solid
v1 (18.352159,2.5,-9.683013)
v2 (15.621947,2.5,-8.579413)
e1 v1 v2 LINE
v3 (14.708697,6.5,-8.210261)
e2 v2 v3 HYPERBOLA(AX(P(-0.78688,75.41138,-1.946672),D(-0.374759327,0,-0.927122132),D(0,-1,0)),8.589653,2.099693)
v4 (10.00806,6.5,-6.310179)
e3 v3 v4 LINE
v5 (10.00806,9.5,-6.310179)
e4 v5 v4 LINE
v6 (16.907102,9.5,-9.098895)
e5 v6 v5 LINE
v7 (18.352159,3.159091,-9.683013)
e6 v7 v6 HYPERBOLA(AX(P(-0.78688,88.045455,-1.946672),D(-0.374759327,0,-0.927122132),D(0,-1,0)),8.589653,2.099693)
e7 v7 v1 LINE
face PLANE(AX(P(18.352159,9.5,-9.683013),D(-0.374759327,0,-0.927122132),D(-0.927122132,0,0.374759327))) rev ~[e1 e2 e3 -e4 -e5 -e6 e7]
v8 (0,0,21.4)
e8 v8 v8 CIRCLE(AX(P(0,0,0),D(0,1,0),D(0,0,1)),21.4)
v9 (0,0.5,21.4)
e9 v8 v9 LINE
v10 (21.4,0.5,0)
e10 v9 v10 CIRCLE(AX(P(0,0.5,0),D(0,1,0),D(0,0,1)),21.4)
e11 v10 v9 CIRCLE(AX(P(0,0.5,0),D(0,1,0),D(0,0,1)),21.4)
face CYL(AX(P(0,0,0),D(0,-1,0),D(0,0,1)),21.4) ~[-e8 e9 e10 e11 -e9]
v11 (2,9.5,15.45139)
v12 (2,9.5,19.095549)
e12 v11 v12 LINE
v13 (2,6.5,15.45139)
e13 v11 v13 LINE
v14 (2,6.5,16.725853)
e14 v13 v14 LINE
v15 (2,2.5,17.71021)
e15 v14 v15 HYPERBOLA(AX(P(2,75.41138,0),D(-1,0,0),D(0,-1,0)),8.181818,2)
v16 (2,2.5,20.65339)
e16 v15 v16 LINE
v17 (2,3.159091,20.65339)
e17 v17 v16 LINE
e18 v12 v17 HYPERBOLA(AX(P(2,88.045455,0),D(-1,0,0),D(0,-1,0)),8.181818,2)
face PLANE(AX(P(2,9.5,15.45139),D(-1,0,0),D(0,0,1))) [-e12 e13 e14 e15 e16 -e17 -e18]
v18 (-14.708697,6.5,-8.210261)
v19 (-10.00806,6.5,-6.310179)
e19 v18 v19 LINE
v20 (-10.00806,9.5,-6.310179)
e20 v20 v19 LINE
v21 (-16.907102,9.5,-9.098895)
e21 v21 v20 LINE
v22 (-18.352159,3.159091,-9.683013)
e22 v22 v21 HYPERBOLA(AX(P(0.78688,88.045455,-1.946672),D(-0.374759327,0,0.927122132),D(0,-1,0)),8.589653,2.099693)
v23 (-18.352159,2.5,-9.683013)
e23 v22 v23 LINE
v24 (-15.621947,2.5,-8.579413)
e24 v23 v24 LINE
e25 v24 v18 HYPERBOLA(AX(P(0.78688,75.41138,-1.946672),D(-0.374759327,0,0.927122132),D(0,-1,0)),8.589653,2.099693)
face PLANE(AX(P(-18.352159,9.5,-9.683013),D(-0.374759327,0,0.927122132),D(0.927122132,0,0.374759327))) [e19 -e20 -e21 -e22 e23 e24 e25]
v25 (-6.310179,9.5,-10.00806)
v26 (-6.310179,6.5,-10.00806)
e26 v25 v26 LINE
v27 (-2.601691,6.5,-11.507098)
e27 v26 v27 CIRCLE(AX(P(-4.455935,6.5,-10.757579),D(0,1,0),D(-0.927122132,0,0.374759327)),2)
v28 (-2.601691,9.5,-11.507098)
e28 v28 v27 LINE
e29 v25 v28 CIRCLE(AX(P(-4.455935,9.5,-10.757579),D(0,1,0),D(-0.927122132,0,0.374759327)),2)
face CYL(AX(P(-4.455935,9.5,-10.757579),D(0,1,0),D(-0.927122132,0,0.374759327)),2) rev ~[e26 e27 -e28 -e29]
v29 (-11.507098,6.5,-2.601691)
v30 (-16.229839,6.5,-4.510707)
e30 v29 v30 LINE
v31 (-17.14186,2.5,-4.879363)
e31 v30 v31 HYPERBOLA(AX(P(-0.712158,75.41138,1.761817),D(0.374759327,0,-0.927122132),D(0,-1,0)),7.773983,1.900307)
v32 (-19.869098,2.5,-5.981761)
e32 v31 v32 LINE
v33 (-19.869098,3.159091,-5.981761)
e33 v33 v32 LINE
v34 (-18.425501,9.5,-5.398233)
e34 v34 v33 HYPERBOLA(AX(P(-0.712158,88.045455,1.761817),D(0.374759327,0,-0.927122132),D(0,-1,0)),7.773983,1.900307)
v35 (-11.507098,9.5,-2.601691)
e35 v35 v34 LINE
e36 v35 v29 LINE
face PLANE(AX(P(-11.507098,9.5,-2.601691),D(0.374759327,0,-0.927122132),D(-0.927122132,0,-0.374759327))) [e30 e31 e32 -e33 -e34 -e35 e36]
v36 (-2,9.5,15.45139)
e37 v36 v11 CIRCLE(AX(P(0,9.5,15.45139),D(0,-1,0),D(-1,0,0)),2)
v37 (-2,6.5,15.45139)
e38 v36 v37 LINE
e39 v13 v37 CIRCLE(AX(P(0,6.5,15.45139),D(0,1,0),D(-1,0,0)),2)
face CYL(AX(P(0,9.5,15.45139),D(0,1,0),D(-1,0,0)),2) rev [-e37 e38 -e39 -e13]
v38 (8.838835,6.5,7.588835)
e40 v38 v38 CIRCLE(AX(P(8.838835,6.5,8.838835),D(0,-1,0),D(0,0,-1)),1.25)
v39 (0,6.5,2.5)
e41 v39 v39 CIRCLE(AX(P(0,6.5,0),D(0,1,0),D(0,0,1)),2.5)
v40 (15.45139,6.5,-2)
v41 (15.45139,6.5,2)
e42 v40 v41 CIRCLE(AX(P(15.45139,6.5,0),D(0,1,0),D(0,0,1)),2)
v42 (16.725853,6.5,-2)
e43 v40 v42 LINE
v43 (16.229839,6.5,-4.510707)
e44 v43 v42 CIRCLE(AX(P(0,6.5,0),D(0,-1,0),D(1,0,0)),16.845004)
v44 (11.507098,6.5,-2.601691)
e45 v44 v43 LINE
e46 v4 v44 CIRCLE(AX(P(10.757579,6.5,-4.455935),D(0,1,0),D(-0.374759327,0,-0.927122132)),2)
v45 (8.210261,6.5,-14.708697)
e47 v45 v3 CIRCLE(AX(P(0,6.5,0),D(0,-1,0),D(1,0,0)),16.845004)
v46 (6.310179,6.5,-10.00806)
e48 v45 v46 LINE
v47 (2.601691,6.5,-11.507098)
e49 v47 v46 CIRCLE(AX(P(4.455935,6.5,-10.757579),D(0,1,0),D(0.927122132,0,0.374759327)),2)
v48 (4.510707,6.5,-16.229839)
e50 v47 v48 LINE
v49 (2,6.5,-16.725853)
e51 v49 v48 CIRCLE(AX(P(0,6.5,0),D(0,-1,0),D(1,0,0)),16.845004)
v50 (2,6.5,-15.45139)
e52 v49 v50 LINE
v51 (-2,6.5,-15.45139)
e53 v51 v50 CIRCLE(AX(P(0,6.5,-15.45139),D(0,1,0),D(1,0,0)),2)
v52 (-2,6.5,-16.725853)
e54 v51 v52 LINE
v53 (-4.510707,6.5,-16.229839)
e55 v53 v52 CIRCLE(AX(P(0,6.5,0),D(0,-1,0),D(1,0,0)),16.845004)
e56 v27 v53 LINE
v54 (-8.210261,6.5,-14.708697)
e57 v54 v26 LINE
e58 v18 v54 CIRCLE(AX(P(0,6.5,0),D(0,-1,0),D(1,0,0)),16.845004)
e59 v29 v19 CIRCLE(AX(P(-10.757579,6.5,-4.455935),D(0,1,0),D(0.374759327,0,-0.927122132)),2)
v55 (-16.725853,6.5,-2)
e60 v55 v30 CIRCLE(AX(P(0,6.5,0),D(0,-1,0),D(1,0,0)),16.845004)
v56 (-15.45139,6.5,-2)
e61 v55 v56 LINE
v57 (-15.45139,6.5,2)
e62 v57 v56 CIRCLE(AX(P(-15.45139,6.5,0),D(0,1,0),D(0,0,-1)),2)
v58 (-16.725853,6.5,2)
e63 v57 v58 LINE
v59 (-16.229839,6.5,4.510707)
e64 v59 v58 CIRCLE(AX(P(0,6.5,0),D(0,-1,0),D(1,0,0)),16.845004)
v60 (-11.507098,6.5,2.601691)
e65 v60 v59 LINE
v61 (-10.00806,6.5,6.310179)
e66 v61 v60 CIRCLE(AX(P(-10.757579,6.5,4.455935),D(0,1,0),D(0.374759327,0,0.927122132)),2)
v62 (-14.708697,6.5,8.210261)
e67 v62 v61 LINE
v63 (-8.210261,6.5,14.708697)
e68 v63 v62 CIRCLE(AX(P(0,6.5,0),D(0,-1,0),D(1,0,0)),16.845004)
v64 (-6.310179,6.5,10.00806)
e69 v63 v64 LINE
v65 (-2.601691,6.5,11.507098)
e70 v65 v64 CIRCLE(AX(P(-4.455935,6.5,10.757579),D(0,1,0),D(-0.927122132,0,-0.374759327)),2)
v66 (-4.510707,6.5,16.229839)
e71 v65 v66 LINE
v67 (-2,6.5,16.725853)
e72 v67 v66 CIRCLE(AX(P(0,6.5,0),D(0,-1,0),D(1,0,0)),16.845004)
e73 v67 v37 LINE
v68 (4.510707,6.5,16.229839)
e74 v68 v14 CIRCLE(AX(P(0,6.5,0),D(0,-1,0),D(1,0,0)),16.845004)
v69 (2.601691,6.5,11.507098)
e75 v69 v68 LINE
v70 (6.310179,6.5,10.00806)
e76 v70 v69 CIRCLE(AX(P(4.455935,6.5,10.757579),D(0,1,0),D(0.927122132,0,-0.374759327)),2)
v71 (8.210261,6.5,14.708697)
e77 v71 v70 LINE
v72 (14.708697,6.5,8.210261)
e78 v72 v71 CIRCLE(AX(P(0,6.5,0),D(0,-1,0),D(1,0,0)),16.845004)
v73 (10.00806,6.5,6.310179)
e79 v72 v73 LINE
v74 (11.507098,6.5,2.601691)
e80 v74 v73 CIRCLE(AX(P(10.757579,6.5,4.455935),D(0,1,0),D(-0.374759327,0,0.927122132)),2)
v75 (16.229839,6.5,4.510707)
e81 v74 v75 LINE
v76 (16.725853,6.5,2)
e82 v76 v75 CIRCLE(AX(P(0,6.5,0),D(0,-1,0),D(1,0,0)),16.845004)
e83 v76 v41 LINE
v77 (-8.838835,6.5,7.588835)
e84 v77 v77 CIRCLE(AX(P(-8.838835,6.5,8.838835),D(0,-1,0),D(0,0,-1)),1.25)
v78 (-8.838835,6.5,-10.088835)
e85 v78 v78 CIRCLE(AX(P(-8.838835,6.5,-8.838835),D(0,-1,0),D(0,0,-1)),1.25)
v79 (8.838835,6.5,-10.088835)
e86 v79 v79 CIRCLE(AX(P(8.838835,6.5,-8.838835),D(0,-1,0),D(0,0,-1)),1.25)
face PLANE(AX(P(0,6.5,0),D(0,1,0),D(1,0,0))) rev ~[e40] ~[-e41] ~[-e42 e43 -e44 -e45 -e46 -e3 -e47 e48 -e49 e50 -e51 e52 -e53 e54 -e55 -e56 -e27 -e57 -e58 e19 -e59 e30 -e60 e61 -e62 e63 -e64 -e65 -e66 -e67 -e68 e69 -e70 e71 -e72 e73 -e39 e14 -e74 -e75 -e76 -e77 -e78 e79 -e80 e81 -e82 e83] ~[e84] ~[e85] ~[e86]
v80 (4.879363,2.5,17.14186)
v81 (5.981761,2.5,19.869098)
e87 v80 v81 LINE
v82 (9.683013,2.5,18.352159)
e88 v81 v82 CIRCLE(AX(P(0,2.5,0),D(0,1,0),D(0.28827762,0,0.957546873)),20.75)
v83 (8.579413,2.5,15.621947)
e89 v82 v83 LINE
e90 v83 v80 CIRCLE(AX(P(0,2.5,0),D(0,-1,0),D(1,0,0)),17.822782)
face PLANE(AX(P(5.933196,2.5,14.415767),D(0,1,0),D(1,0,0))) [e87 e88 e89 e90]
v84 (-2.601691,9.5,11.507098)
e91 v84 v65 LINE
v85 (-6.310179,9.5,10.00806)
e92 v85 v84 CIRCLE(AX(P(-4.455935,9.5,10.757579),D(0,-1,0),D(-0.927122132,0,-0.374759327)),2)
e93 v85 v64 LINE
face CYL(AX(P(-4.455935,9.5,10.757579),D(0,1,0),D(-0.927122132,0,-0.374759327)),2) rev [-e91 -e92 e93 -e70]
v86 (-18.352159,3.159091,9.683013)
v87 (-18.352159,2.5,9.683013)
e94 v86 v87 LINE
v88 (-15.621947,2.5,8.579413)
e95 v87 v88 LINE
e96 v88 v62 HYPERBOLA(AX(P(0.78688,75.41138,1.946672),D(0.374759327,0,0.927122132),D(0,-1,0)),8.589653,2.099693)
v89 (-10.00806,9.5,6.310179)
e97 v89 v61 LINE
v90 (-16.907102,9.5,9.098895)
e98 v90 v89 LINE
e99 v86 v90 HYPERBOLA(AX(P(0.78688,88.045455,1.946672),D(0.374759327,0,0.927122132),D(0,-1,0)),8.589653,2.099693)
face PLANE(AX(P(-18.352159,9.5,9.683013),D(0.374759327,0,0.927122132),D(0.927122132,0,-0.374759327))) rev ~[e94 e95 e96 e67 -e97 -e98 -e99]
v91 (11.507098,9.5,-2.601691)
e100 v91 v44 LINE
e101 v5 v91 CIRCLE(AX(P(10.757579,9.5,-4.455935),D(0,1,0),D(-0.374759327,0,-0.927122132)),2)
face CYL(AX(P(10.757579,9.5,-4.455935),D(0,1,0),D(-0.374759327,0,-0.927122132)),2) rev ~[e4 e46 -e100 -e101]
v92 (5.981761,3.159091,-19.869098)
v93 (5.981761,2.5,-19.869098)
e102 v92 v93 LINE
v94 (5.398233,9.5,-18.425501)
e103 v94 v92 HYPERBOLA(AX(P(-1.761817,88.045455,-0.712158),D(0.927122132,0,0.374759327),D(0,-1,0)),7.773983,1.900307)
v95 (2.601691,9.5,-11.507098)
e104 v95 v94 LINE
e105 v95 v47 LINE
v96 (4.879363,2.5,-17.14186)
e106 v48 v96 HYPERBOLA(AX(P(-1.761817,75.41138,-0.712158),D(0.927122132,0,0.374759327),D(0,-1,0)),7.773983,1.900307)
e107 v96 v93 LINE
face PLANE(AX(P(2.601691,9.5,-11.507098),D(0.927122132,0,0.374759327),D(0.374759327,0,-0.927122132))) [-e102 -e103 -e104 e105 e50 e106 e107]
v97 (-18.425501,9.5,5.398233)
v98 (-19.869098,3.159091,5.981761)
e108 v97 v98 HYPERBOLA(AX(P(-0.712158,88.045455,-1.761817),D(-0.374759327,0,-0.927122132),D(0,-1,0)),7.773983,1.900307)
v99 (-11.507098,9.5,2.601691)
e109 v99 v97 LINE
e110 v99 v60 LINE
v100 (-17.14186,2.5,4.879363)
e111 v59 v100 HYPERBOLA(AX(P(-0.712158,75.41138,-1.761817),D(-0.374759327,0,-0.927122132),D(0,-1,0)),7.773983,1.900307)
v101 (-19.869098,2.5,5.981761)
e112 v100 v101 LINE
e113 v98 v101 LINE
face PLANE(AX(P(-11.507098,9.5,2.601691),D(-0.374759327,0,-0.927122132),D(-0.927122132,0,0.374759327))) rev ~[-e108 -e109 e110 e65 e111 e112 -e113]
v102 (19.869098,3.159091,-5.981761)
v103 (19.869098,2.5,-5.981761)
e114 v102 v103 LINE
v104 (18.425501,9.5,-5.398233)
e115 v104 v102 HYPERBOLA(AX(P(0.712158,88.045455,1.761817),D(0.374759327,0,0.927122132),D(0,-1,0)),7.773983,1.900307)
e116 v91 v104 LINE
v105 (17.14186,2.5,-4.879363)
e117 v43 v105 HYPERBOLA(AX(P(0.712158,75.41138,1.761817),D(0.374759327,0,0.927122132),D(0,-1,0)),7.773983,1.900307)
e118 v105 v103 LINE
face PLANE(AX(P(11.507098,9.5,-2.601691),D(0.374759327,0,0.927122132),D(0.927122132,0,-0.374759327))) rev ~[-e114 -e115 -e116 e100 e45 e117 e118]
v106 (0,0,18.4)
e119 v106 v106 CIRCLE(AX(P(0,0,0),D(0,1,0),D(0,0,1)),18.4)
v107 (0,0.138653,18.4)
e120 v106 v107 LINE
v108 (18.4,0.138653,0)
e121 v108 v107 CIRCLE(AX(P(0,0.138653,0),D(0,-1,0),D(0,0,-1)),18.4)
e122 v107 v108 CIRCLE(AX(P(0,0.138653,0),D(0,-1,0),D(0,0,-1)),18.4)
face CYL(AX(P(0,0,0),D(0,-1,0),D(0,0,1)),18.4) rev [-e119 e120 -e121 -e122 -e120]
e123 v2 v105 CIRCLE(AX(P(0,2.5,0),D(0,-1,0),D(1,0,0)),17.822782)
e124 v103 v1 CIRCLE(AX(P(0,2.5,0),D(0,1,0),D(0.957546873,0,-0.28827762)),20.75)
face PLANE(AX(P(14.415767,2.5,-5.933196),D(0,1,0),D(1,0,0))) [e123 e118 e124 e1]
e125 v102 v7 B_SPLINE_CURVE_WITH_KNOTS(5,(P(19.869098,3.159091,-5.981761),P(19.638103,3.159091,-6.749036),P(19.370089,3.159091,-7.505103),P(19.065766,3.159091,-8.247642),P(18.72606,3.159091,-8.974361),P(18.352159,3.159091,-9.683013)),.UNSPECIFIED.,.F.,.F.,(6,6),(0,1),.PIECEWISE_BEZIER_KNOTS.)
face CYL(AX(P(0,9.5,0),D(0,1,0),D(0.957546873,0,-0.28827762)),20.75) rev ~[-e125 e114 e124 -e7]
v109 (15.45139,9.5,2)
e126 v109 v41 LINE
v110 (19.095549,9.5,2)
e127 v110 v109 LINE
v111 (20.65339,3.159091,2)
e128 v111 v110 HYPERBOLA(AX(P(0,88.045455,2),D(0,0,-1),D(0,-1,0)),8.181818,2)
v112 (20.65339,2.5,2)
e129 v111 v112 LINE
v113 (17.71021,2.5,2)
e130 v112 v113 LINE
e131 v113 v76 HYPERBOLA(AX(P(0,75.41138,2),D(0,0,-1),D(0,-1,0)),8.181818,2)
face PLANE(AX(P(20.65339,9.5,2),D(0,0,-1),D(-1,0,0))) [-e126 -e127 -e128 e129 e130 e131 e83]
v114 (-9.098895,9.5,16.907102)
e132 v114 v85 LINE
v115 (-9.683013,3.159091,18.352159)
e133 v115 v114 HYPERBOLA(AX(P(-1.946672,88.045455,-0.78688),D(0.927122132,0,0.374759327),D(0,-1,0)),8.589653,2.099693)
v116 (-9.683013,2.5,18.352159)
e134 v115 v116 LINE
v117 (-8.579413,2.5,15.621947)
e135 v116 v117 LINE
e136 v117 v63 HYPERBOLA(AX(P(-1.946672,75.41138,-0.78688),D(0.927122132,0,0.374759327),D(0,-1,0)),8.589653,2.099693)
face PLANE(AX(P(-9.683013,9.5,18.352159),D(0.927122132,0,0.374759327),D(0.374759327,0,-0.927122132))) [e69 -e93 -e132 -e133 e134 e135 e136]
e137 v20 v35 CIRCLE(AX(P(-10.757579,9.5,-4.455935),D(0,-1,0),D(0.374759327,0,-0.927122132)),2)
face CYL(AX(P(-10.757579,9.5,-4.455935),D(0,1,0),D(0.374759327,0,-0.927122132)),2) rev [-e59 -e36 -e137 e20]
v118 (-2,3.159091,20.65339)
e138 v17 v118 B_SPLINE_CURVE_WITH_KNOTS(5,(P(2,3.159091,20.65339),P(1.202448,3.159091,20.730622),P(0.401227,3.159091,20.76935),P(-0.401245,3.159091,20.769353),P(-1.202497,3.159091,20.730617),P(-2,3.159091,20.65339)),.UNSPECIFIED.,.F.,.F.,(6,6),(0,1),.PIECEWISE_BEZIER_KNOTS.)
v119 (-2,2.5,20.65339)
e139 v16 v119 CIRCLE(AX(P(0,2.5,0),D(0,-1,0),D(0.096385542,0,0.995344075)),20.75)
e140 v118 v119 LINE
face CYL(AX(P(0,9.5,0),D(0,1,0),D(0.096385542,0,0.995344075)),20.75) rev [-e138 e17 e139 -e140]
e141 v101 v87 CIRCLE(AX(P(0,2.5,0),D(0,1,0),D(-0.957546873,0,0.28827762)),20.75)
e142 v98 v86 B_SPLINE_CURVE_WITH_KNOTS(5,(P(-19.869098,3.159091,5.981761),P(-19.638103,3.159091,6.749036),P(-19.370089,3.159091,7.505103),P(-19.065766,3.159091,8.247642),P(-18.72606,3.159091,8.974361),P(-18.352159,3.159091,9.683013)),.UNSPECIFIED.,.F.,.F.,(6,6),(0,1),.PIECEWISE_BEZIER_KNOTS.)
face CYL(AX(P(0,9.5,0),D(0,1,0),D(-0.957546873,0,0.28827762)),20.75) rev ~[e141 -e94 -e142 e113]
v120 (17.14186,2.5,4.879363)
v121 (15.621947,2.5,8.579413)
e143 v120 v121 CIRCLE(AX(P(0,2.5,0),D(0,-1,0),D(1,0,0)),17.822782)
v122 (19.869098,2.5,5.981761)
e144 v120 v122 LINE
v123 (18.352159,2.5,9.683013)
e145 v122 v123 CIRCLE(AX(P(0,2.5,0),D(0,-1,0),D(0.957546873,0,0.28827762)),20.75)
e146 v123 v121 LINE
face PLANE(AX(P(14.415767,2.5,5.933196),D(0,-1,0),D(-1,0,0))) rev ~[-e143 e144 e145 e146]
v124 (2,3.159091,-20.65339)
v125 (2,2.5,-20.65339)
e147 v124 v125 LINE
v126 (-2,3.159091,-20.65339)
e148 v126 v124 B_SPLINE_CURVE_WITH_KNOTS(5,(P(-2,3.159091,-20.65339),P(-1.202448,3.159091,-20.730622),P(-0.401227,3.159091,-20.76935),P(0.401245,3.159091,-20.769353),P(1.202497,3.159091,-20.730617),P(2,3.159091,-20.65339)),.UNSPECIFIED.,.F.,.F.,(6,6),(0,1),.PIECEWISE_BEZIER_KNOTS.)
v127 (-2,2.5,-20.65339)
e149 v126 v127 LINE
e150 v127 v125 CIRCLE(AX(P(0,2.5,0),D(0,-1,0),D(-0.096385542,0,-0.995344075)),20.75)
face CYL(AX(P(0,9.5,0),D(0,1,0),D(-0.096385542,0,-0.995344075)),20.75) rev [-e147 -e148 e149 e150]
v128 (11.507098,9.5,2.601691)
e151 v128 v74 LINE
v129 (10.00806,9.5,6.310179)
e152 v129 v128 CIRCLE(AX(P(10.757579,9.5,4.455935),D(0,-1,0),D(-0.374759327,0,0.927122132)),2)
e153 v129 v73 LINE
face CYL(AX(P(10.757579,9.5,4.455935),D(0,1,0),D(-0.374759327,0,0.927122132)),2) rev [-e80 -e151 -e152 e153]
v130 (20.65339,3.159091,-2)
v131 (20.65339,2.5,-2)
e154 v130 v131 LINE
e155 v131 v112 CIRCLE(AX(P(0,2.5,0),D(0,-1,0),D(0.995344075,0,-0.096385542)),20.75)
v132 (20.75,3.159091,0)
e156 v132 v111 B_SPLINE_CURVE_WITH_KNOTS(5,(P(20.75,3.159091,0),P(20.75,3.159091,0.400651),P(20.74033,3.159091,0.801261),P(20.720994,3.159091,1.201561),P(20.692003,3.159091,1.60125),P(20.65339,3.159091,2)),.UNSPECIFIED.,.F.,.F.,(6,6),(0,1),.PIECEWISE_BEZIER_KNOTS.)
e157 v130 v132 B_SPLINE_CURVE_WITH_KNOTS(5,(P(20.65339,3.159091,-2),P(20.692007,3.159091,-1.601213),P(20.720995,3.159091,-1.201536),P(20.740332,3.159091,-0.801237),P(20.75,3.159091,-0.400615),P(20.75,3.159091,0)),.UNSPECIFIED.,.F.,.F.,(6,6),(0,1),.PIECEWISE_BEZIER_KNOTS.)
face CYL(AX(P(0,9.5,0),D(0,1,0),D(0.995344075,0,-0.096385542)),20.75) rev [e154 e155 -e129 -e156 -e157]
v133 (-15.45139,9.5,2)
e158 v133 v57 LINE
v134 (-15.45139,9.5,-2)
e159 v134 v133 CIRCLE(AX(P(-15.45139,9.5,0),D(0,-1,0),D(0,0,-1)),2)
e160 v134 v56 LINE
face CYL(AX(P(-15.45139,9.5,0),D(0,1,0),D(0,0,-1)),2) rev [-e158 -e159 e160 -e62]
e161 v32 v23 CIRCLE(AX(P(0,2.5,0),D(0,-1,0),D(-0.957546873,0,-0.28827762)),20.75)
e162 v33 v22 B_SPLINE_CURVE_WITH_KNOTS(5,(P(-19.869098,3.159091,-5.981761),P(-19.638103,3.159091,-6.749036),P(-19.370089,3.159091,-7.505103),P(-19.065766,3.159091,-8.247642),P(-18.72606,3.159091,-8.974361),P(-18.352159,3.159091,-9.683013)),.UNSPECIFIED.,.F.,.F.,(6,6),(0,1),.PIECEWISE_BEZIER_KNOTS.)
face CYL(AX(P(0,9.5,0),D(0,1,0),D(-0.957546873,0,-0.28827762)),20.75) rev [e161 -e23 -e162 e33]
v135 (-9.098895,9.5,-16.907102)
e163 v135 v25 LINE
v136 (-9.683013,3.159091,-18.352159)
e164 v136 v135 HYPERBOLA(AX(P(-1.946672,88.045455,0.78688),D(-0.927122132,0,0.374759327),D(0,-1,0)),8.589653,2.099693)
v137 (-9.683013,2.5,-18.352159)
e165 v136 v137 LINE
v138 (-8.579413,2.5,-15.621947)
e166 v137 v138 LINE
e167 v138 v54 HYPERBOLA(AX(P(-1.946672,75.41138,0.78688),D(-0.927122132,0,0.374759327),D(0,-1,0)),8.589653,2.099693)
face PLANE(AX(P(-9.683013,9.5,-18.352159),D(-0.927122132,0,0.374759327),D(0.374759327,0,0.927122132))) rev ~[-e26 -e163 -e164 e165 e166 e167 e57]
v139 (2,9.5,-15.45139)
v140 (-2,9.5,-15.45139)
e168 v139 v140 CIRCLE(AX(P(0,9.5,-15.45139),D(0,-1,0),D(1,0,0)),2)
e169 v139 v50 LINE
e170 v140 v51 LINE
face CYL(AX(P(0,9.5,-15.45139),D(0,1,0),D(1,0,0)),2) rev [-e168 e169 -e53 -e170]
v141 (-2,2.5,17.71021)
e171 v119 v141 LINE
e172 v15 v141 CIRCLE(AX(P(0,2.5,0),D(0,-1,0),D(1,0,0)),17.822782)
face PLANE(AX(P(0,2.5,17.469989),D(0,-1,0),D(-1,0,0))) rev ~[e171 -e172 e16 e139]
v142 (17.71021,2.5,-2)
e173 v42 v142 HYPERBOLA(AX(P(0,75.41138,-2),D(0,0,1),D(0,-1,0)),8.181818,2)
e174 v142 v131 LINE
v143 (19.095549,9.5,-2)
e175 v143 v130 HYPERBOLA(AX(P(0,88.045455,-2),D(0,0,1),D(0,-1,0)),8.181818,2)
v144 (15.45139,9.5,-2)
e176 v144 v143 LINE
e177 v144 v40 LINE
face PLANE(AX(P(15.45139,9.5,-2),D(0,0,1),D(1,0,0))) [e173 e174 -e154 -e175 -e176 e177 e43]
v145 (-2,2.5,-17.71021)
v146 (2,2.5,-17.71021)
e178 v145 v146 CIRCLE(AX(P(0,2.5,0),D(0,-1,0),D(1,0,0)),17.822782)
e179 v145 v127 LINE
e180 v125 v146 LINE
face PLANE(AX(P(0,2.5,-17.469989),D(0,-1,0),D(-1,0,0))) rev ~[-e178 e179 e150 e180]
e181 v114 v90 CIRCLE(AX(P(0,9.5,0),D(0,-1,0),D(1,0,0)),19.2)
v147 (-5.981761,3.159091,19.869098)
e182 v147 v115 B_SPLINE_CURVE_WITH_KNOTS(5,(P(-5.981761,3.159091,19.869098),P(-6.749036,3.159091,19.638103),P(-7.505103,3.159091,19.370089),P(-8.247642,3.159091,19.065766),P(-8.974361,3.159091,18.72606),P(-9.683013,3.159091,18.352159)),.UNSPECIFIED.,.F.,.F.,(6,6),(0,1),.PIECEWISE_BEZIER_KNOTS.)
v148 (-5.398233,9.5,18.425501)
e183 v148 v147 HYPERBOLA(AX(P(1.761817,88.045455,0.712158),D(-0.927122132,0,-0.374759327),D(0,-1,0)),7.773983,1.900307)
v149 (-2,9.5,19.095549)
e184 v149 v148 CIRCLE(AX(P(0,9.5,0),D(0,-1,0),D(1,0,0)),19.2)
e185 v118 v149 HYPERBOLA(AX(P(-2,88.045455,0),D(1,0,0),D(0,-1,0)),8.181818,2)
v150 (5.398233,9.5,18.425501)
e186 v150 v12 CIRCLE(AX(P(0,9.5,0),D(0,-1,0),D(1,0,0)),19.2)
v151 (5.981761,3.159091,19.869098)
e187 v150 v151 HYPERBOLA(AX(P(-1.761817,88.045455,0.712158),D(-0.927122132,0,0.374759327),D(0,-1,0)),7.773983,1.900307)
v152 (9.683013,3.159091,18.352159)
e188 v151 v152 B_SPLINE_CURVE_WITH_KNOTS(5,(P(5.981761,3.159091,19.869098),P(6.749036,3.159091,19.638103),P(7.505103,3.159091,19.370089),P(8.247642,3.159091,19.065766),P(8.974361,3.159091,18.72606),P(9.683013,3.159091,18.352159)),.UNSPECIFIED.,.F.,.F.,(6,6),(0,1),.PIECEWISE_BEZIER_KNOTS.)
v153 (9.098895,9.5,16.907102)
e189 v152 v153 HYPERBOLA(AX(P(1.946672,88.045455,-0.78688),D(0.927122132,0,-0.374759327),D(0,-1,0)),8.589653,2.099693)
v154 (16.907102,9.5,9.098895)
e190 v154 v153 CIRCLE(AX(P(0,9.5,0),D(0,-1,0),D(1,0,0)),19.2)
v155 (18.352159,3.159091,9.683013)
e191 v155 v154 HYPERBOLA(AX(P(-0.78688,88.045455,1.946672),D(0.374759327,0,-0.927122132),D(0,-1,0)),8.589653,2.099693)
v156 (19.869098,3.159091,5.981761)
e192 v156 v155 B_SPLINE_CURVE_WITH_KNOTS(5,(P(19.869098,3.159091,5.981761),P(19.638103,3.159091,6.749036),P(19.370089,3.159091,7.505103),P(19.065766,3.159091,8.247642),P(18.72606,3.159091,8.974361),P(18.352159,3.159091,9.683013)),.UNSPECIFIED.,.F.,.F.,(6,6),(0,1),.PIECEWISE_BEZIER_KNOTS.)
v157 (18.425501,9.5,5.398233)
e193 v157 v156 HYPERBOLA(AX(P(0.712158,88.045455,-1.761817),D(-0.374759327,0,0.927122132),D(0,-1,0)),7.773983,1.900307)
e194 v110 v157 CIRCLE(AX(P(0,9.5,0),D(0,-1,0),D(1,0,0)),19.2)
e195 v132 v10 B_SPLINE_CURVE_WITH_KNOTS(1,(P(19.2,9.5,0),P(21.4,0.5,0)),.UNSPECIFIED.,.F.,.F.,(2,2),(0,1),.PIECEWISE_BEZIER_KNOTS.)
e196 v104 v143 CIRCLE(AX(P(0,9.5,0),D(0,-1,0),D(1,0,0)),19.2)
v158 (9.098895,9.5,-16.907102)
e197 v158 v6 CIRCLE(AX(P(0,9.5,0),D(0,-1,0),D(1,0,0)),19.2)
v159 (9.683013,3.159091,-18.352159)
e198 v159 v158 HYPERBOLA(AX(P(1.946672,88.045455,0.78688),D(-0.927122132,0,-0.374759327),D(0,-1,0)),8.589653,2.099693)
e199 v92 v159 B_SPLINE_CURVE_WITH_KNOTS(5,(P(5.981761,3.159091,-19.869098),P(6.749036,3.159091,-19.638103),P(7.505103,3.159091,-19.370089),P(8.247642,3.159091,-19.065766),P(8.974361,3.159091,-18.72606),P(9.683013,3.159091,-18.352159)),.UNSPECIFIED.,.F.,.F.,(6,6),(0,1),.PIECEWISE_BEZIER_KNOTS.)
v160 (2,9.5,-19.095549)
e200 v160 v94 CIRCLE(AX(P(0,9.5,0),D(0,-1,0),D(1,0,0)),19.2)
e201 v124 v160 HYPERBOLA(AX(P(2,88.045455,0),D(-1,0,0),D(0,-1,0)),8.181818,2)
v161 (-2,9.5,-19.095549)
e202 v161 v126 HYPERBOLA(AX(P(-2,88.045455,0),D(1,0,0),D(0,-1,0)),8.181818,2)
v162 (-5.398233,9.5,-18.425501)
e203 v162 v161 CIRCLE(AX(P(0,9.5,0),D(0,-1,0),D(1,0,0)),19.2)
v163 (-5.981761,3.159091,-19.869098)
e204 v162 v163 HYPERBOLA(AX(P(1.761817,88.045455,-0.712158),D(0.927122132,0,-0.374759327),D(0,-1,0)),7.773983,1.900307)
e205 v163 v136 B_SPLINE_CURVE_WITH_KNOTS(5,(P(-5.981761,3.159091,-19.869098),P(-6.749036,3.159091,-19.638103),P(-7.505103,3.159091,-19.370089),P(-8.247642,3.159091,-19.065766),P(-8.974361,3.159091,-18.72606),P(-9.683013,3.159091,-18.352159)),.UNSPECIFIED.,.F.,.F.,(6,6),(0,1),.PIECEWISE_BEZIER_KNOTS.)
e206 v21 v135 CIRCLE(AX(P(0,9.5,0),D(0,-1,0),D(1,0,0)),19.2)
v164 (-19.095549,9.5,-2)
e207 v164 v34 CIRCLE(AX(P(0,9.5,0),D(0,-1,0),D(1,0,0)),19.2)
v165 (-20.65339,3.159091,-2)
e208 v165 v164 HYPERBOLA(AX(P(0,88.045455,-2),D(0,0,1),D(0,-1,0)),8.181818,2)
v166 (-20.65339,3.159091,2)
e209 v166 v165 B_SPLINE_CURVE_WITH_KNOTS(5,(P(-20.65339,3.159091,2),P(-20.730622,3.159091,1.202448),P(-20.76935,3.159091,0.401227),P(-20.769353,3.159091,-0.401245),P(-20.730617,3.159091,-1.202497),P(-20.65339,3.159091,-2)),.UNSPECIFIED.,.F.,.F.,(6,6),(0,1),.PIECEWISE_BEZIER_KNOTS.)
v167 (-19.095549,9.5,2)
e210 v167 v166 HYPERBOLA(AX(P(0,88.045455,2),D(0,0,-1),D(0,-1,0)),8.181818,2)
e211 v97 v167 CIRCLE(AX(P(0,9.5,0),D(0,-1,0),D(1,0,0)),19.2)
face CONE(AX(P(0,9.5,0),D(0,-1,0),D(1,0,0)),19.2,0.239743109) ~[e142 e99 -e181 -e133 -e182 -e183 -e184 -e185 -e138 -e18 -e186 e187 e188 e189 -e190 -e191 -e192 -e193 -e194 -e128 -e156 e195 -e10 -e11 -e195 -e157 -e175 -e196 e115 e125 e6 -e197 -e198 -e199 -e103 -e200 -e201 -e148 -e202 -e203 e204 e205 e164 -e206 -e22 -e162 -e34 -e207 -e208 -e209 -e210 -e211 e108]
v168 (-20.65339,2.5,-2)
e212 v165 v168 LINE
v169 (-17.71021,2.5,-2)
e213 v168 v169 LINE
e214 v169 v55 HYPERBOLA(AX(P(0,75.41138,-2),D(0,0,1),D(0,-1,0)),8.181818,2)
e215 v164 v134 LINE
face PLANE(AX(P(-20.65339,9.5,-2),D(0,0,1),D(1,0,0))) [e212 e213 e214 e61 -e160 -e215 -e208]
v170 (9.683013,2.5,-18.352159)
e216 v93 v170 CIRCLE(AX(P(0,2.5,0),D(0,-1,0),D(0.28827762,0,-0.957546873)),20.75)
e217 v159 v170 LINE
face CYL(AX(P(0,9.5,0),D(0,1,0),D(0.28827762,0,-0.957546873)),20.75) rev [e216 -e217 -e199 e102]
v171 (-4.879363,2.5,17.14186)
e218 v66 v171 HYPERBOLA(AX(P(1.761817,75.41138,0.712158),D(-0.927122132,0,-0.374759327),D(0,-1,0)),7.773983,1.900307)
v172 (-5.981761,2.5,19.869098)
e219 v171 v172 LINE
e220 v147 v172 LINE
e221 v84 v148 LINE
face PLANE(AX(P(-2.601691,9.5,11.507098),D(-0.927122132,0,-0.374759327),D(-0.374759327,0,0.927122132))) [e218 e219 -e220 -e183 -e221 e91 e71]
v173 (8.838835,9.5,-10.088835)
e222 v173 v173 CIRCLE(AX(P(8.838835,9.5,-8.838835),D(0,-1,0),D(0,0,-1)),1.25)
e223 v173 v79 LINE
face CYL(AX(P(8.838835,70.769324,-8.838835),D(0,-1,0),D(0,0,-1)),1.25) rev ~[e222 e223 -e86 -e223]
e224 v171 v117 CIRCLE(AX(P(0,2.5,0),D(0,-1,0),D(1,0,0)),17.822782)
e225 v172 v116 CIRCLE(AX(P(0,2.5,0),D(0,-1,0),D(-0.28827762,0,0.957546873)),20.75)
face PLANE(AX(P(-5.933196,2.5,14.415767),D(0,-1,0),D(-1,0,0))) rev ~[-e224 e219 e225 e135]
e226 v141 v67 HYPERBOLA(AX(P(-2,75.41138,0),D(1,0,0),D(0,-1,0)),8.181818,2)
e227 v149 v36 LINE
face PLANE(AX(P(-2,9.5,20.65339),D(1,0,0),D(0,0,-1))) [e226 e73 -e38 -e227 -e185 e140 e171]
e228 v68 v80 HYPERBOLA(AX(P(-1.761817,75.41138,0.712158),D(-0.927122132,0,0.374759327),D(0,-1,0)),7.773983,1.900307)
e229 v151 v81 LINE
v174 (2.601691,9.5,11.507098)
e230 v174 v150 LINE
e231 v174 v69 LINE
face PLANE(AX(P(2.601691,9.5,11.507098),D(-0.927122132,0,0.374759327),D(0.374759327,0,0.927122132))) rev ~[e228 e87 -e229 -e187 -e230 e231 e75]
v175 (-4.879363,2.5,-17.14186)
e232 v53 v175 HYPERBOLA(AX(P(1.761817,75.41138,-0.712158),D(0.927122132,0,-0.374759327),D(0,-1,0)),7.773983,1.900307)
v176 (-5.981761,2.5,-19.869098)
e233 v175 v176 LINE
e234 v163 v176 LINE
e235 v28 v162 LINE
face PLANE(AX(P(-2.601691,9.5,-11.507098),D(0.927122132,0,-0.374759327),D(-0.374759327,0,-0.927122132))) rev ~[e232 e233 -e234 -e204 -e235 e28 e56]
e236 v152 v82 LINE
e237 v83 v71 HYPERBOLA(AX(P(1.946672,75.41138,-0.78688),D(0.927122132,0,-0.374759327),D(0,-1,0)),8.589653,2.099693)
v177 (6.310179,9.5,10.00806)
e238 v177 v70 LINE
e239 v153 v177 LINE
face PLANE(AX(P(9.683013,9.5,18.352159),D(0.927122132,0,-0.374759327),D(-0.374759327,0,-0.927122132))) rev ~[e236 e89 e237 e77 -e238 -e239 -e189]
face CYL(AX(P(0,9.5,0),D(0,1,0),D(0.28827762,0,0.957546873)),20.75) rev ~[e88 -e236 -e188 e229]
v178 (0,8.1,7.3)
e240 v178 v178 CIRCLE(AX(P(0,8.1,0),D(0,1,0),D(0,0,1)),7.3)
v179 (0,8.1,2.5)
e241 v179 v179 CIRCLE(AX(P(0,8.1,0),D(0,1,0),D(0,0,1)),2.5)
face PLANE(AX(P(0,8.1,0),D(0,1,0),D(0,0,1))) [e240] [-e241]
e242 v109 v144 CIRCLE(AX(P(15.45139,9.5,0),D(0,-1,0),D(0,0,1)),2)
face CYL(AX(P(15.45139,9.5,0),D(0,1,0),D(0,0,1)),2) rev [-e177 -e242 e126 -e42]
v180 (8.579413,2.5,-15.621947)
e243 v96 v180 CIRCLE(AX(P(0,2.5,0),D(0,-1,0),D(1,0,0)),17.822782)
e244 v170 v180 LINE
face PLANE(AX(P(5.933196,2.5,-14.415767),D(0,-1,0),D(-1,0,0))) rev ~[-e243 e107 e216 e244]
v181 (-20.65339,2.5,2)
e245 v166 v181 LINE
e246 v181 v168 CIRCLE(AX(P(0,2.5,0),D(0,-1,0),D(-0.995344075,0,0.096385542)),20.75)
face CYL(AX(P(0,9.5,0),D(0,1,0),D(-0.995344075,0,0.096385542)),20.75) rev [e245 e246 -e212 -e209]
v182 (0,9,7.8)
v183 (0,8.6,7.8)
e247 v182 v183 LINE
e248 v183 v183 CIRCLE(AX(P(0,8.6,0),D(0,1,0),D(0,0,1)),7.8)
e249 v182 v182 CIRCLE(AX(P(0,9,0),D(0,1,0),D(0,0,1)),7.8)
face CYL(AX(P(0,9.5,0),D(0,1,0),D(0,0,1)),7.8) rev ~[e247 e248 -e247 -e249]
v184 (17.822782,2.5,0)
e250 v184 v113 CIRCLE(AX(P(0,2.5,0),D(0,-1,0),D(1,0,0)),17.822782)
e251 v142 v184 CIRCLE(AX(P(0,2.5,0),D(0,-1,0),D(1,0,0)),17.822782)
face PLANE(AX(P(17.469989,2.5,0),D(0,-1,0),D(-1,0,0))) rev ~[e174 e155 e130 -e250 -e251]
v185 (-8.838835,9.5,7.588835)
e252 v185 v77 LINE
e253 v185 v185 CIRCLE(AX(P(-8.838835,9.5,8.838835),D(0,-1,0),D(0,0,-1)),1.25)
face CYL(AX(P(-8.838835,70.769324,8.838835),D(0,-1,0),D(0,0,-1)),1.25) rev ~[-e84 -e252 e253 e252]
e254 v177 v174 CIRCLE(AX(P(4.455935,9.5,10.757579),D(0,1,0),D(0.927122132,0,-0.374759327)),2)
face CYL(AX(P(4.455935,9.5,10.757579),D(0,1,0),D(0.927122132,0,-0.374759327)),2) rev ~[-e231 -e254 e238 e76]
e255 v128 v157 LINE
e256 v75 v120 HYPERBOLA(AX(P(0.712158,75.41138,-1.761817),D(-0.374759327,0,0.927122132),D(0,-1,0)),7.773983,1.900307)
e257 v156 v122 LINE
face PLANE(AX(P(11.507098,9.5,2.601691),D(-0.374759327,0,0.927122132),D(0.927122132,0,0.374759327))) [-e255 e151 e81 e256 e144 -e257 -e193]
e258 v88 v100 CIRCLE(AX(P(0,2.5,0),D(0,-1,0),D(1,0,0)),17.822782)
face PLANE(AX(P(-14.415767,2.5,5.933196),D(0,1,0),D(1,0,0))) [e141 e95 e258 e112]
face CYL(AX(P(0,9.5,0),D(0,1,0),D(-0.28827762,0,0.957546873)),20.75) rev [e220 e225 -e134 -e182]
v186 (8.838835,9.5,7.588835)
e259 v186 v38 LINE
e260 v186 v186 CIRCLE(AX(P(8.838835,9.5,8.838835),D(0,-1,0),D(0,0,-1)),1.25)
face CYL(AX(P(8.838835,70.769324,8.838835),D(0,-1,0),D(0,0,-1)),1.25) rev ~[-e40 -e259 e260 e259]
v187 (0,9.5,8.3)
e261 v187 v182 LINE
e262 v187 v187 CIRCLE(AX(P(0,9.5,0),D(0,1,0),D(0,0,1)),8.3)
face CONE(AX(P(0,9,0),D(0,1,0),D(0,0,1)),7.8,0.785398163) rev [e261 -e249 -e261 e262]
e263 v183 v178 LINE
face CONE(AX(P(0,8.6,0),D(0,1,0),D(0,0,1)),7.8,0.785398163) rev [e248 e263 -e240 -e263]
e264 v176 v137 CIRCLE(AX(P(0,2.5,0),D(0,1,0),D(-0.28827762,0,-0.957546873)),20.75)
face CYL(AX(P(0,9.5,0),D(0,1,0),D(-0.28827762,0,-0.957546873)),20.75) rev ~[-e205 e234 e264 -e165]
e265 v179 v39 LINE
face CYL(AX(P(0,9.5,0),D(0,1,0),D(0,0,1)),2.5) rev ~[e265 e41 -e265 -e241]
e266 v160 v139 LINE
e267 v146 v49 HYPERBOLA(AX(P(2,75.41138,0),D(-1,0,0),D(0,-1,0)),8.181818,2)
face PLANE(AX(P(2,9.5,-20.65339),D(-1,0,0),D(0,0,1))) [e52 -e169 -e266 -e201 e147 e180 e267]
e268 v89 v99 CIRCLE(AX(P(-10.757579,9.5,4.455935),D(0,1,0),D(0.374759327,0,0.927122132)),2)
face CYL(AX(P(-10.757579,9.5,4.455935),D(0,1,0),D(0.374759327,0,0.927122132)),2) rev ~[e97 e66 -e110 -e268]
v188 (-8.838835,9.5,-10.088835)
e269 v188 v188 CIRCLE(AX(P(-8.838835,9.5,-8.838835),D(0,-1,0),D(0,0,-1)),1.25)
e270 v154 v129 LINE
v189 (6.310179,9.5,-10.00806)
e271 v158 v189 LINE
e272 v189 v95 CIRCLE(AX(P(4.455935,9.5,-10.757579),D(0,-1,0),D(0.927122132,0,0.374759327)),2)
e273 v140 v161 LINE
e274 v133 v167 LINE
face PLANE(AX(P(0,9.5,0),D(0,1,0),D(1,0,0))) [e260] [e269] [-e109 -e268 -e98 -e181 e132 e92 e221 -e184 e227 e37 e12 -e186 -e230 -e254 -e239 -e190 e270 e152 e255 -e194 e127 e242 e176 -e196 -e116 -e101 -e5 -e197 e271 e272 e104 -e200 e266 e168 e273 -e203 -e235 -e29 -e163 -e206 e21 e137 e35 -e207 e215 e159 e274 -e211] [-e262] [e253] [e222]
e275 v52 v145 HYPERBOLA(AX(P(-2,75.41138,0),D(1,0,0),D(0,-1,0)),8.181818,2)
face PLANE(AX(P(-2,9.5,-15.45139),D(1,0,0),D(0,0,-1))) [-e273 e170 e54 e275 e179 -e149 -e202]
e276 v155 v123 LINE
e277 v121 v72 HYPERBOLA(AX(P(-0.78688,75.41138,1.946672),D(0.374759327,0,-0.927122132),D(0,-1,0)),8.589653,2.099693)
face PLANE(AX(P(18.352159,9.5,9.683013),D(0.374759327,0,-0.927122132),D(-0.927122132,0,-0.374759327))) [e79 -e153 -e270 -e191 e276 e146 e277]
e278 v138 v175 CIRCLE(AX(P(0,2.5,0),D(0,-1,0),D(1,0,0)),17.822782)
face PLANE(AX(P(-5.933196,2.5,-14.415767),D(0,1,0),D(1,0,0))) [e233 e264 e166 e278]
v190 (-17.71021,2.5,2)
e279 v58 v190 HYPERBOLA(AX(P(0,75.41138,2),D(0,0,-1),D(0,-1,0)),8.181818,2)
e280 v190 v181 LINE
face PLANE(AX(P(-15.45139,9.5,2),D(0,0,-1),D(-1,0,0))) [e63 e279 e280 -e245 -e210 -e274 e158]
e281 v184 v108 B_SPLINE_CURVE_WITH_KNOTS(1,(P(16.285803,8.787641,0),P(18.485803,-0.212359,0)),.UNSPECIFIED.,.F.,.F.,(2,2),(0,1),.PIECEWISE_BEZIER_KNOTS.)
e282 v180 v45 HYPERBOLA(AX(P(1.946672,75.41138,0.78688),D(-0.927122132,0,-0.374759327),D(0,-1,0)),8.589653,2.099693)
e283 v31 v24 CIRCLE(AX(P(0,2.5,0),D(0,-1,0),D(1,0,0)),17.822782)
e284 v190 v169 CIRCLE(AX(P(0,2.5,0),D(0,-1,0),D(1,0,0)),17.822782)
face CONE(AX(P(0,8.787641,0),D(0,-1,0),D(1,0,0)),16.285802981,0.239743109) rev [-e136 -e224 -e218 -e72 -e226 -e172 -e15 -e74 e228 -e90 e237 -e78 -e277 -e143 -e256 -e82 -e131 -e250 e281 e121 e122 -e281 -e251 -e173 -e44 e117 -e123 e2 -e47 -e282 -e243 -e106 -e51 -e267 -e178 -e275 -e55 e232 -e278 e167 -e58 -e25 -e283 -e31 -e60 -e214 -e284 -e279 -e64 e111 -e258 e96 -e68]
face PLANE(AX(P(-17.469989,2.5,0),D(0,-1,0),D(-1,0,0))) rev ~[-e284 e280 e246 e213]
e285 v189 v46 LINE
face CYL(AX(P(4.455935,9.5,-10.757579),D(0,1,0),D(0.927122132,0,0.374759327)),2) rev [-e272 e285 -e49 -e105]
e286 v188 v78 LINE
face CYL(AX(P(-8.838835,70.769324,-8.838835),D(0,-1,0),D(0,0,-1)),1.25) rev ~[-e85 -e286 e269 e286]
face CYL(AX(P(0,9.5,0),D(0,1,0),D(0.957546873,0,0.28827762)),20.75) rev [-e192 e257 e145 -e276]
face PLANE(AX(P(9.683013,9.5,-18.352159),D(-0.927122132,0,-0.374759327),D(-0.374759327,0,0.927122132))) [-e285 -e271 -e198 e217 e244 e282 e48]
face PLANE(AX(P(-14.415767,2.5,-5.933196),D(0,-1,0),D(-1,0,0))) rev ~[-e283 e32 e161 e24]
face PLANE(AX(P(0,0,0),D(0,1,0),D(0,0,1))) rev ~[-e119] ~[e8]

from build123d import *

# Parameters (mm, degrees)
SKETCH_1_R           = 21.4
EXTRUDE_2_DEPTH      = 0.5
SKETCH_6_R           = 19.2
SHELL_1_T            = -3
SKETCH_7_R           = 2.5
CUT_EXTRUDE_1_DEPTH  = 32.720182984
SKETCH_8_R           = 7.8
CUT_EXTRUDE_2_DEPTH  = 1.4
CHAMFER_1_SIZE       = 0.5
CUT_EXTRUDE_11_DEPTH = 7
HOLE_WIZARD_M3_1_D   = 2.5


with BuildPart() as part:
    # 草图1 → 凸台-拉伸2 (new body)
    with BuildSketch(Plane(origin=(0, 0, 0), x_dir=(1, 0, 0), z_dir=(0, 1, 0))):
        with Locations(Location((0, 0, 0), (0, 0, 270))):
            Circle(SKETCH_1_R)
    extrude(amount=EXTRUDE_2_DEPTH)

    # 草图6 → section 0 of loft_1
    with BuildSketch(Plane(origin=(0, 9.5, 0), x_dir=(1, 0, 0), z_dir=(0, 1, 0)), mode=Mode.PRIVATE) as loft_1_s0:
        Circle(SKETCH_6_R)
    # loft up to a face of the part (loft_1)
    loft([loft_1_s0.sketch, part.faces().sort_by_distance((0, 0.5, 0))[0]])

    # 抽壳1
    shell_1_openings = [part.faces().sort_by_distance(p)[0] for p in [
        (0, 0, 0),
    ]]
    offset(amount=SHELL_1_T, openings=shell_1_openings)

    # 草图7 → 切除-拉伸1 (cut, through all)
    with BuildSketch(Plane(origin=(0, 9.5, 0), x_dir=(1, 0, 0), z_dir=(0, 1, 0))):
        with Locations(Location((0, 0, 0), (0, 0, 270))):
            Circle(SKETCH_7_R)
    extrude(amount=-CUT_EXTRUDE_1_DEPTH, mode=Mode.SUBTRACT)

    # 草图8 → 切除-拉伸2 (cut)
    with BuildSketch(Plane(origin=(0, 9.5, 0), x_dir=(1, 0, 0), z_dir=(0, 1, 0))):
        with Locations(Location((0, 0, 0), (0, 0, 270))):
            Circle(SKETCH_8_R)
    extrude(amount=-CUT_EXTRUDE_2_DEPTH, mode=Mode.SUBTRACT)

    # 倒角1
    chamfer_1_edges = [part.edges().sort_by_distance(p)[0] for p in [
        (0, 9.5, -7.8),
        (0, 8.1, -7.8),
    ]]
    chamfer(chamfer_1_edges, length=CHAMFER_1_SIZE)

    # 草图9 → 切除-拉伸11 (cut)
    with BuildSketch(Plane(origin=(0, 9.5, 0), x_dir=(1, 0, 0), z_dir=(0, 1, 0))):
        with BuildLine():
            Line((-2, 15.451390353), (-2, 20.653389552))
            ThreePointArc((-2, 20.653389552), (0, 20.75), (2, 20.653389552))
            Line((2, 20.653389552), (2, 15.451390353))
            ThreePointArc((2, 15.451390353), (0, 13.451390353), (-2, 15.451390353))
        make_face()
        with BuildLine():
            Line((2.601690797, 11.507097509), (5.981760612, 19.869097614))
            ThreePointArc((5.981760612, 19.869097614), (7.869025388, 19.200024465), (9.683013266, 18.352159385))
            Line((9.683013266, 18.352159385), (6.310179323, 10.008060201))
            ThreePointArc((6.310179323, 10.008060201), (3.706416406, 8.903334592), (2.601690797, 11.507097509))
        make_face()
        with BuildLine():
            Line((-2.601690797, 11.507097509), (-5.981760612, 19.869097614))
            ThreePointArc((-5.981760612, 19.869097614), (-7.869025388, 19.200024465), (-9.683013266, 18.352159385))
            Line((-9.683013266, 18.352159385), (-6.310179323, 10.008060201))
            ThreePointArc((-6.310179323, 10.008060201), (-3.706416406, 8.903334592), (-2.601690797, 11.507097509))
        make_face()
        with BuildLine():
            Line((15.451390353, 2), (20.653389552, 2))
            ThreePointArc((20.653389552, 2), (20.75, 0), (20.653389552, -2))
            Line((20.653389552, -2), (15.451390353, -2))
            ThreePointArc((15.451390353, -2), (13.451390353, 0), (15.451390353, 2))
        make_face()
        with BuildLine():
            Line((11.507097509, 2.601690797), (19.869097614, 5.981760612))
            ThreePointArc((19.869097614, 5.981760612), (19.200024465, 7.869025388), (18.352159385, 9.683013266))
            Line((18.352159385, 9.683013266), (10.008060201, 6.310179323))
            ThreePointArc((10.008060201, 6.310179323), (8.903334592, 3.706416406), (11.507097509, 2.601690797))
        make_face()
        with BuildLine():
            Line((11.507097509, -2.601690797), (19.869097614, -5.981760612))
            ThreePointArc((19.869097614, -5.981760612), (19.200024465, -7.869025388), (18.352159385, -9.683013266))
            Line((18.352159385, -9.683013266), (10.008060201, -6.310179323))
            ThreePointArc((10.008060201, -6.310179323), (8.903334592, -3.706416406), (11.507097509, -2.601690797))
        make_face()
        with BuildLine():
            Line((2, -15.451390353), (2, -20.653389552))
            ThreePointArc((2, -20.653389552), (0, -20.75), (-2, -20.653389552))
            Line((-2, -20.653389552), (-2, -15.451390353))
            ThreePointArc((-2, -15.451390353), (0, -13.451390353), (2, -15.451390353))
        make_face()
        with BuildLine():
            Line((2.601690797, -11.507097509), (5.981760612, -19.869097614))
            ThreePointArc((5.981760612, -19.869097614), (7.869025388, -19.200024465), (9.683013266, -18.352159385))
            Line((9.683013266, -18.352159385), (6.310179323, -10.008060201))
            ThreePointArc((6.310179323, -10.008060201), (3.706416406, -8.903334592), (2.601690797, -11.507097509))
        make_face()
        with BuildLine():
            Line((-2.601690797, -11.507097509), (-5.981760612, -19.869097614))
            ThreePointArc((-5.981760612, -19.869097614), (-7.869025388, -19.200024465), (-9.683013266, -18.352159385))
            Line((-9.683013266, -18.352159385), (-6.310179323, -10.008060201))
            ThreePointArc((-6.310179323, -10.008060201), (-3.706416406, -8.903334592), (-2.601690797, -11.507097509))
        make_face()
        with BuildLine():
            Line((-15.451390353, -2), (-20.653389552, -2))
            ThreePointArc((-20.653389552, -2), (-20.75, 0), (-20.653389552, 2))
            Line((-20.653389552, 2), (-15.451390353, 2))
            ThreePointArc((-15.451390353, 2), (-13.451390353, 0), (-15.451390353, -2))
        make_face()
        with BuildLine():
            Line((-11.507097509, -2.601690797), (-19.869097614, -5.981760612))
            ThreePointArc((-19.869097614, -5.981760612), (-19.200024465, -7.869025388), (-18.352159385, -9.683013266))
            Line((-18.352159385, -9.683013266), (-10.008060201, -6.310179323))
            ThreePointArc((-10.008060201, -6.310179323), (-8.903334592, -3.706416406), (-11.507097509, -2.601690797))
        make_face()
        with BuildLine():
            Line((-11.507097509, 2.601690797), (-19.869097614, 5.981760612))
            ThreePointArc((-19.869097614, 5.981760612), (-19.200024465, 7.869025388), (-18.352159385, 9.683013266))
            Line((-18.352159385, 9.683013266), (-10.008060201, 6.310179323))
            ThreePointArc((-10.008060201, 6.310179323), (-8.903334592, 3.706416406), (-11.507097509, 2.601690797))
        make_face()
    extrude(amount=-CUT_EXTRUDE_11_DEPTH, mode=Mode.SUBTRACT)

    # M3 螺纹孔的螺纹孔钻头1 (through all)
    with Locations(Plane(origin=(-8.838834765, 9.5, 8.838834765), x_dir=(0, 0, 1), z_dir=(0, 1, 0))):
        with Locations((0, 0), (0, 17.67766953), (-17.67766953, 17.67766953), (-17.67766953, 0)):
            Hole(HOLE_WIZARD_M3_1_D / 2)


solid = part.part
